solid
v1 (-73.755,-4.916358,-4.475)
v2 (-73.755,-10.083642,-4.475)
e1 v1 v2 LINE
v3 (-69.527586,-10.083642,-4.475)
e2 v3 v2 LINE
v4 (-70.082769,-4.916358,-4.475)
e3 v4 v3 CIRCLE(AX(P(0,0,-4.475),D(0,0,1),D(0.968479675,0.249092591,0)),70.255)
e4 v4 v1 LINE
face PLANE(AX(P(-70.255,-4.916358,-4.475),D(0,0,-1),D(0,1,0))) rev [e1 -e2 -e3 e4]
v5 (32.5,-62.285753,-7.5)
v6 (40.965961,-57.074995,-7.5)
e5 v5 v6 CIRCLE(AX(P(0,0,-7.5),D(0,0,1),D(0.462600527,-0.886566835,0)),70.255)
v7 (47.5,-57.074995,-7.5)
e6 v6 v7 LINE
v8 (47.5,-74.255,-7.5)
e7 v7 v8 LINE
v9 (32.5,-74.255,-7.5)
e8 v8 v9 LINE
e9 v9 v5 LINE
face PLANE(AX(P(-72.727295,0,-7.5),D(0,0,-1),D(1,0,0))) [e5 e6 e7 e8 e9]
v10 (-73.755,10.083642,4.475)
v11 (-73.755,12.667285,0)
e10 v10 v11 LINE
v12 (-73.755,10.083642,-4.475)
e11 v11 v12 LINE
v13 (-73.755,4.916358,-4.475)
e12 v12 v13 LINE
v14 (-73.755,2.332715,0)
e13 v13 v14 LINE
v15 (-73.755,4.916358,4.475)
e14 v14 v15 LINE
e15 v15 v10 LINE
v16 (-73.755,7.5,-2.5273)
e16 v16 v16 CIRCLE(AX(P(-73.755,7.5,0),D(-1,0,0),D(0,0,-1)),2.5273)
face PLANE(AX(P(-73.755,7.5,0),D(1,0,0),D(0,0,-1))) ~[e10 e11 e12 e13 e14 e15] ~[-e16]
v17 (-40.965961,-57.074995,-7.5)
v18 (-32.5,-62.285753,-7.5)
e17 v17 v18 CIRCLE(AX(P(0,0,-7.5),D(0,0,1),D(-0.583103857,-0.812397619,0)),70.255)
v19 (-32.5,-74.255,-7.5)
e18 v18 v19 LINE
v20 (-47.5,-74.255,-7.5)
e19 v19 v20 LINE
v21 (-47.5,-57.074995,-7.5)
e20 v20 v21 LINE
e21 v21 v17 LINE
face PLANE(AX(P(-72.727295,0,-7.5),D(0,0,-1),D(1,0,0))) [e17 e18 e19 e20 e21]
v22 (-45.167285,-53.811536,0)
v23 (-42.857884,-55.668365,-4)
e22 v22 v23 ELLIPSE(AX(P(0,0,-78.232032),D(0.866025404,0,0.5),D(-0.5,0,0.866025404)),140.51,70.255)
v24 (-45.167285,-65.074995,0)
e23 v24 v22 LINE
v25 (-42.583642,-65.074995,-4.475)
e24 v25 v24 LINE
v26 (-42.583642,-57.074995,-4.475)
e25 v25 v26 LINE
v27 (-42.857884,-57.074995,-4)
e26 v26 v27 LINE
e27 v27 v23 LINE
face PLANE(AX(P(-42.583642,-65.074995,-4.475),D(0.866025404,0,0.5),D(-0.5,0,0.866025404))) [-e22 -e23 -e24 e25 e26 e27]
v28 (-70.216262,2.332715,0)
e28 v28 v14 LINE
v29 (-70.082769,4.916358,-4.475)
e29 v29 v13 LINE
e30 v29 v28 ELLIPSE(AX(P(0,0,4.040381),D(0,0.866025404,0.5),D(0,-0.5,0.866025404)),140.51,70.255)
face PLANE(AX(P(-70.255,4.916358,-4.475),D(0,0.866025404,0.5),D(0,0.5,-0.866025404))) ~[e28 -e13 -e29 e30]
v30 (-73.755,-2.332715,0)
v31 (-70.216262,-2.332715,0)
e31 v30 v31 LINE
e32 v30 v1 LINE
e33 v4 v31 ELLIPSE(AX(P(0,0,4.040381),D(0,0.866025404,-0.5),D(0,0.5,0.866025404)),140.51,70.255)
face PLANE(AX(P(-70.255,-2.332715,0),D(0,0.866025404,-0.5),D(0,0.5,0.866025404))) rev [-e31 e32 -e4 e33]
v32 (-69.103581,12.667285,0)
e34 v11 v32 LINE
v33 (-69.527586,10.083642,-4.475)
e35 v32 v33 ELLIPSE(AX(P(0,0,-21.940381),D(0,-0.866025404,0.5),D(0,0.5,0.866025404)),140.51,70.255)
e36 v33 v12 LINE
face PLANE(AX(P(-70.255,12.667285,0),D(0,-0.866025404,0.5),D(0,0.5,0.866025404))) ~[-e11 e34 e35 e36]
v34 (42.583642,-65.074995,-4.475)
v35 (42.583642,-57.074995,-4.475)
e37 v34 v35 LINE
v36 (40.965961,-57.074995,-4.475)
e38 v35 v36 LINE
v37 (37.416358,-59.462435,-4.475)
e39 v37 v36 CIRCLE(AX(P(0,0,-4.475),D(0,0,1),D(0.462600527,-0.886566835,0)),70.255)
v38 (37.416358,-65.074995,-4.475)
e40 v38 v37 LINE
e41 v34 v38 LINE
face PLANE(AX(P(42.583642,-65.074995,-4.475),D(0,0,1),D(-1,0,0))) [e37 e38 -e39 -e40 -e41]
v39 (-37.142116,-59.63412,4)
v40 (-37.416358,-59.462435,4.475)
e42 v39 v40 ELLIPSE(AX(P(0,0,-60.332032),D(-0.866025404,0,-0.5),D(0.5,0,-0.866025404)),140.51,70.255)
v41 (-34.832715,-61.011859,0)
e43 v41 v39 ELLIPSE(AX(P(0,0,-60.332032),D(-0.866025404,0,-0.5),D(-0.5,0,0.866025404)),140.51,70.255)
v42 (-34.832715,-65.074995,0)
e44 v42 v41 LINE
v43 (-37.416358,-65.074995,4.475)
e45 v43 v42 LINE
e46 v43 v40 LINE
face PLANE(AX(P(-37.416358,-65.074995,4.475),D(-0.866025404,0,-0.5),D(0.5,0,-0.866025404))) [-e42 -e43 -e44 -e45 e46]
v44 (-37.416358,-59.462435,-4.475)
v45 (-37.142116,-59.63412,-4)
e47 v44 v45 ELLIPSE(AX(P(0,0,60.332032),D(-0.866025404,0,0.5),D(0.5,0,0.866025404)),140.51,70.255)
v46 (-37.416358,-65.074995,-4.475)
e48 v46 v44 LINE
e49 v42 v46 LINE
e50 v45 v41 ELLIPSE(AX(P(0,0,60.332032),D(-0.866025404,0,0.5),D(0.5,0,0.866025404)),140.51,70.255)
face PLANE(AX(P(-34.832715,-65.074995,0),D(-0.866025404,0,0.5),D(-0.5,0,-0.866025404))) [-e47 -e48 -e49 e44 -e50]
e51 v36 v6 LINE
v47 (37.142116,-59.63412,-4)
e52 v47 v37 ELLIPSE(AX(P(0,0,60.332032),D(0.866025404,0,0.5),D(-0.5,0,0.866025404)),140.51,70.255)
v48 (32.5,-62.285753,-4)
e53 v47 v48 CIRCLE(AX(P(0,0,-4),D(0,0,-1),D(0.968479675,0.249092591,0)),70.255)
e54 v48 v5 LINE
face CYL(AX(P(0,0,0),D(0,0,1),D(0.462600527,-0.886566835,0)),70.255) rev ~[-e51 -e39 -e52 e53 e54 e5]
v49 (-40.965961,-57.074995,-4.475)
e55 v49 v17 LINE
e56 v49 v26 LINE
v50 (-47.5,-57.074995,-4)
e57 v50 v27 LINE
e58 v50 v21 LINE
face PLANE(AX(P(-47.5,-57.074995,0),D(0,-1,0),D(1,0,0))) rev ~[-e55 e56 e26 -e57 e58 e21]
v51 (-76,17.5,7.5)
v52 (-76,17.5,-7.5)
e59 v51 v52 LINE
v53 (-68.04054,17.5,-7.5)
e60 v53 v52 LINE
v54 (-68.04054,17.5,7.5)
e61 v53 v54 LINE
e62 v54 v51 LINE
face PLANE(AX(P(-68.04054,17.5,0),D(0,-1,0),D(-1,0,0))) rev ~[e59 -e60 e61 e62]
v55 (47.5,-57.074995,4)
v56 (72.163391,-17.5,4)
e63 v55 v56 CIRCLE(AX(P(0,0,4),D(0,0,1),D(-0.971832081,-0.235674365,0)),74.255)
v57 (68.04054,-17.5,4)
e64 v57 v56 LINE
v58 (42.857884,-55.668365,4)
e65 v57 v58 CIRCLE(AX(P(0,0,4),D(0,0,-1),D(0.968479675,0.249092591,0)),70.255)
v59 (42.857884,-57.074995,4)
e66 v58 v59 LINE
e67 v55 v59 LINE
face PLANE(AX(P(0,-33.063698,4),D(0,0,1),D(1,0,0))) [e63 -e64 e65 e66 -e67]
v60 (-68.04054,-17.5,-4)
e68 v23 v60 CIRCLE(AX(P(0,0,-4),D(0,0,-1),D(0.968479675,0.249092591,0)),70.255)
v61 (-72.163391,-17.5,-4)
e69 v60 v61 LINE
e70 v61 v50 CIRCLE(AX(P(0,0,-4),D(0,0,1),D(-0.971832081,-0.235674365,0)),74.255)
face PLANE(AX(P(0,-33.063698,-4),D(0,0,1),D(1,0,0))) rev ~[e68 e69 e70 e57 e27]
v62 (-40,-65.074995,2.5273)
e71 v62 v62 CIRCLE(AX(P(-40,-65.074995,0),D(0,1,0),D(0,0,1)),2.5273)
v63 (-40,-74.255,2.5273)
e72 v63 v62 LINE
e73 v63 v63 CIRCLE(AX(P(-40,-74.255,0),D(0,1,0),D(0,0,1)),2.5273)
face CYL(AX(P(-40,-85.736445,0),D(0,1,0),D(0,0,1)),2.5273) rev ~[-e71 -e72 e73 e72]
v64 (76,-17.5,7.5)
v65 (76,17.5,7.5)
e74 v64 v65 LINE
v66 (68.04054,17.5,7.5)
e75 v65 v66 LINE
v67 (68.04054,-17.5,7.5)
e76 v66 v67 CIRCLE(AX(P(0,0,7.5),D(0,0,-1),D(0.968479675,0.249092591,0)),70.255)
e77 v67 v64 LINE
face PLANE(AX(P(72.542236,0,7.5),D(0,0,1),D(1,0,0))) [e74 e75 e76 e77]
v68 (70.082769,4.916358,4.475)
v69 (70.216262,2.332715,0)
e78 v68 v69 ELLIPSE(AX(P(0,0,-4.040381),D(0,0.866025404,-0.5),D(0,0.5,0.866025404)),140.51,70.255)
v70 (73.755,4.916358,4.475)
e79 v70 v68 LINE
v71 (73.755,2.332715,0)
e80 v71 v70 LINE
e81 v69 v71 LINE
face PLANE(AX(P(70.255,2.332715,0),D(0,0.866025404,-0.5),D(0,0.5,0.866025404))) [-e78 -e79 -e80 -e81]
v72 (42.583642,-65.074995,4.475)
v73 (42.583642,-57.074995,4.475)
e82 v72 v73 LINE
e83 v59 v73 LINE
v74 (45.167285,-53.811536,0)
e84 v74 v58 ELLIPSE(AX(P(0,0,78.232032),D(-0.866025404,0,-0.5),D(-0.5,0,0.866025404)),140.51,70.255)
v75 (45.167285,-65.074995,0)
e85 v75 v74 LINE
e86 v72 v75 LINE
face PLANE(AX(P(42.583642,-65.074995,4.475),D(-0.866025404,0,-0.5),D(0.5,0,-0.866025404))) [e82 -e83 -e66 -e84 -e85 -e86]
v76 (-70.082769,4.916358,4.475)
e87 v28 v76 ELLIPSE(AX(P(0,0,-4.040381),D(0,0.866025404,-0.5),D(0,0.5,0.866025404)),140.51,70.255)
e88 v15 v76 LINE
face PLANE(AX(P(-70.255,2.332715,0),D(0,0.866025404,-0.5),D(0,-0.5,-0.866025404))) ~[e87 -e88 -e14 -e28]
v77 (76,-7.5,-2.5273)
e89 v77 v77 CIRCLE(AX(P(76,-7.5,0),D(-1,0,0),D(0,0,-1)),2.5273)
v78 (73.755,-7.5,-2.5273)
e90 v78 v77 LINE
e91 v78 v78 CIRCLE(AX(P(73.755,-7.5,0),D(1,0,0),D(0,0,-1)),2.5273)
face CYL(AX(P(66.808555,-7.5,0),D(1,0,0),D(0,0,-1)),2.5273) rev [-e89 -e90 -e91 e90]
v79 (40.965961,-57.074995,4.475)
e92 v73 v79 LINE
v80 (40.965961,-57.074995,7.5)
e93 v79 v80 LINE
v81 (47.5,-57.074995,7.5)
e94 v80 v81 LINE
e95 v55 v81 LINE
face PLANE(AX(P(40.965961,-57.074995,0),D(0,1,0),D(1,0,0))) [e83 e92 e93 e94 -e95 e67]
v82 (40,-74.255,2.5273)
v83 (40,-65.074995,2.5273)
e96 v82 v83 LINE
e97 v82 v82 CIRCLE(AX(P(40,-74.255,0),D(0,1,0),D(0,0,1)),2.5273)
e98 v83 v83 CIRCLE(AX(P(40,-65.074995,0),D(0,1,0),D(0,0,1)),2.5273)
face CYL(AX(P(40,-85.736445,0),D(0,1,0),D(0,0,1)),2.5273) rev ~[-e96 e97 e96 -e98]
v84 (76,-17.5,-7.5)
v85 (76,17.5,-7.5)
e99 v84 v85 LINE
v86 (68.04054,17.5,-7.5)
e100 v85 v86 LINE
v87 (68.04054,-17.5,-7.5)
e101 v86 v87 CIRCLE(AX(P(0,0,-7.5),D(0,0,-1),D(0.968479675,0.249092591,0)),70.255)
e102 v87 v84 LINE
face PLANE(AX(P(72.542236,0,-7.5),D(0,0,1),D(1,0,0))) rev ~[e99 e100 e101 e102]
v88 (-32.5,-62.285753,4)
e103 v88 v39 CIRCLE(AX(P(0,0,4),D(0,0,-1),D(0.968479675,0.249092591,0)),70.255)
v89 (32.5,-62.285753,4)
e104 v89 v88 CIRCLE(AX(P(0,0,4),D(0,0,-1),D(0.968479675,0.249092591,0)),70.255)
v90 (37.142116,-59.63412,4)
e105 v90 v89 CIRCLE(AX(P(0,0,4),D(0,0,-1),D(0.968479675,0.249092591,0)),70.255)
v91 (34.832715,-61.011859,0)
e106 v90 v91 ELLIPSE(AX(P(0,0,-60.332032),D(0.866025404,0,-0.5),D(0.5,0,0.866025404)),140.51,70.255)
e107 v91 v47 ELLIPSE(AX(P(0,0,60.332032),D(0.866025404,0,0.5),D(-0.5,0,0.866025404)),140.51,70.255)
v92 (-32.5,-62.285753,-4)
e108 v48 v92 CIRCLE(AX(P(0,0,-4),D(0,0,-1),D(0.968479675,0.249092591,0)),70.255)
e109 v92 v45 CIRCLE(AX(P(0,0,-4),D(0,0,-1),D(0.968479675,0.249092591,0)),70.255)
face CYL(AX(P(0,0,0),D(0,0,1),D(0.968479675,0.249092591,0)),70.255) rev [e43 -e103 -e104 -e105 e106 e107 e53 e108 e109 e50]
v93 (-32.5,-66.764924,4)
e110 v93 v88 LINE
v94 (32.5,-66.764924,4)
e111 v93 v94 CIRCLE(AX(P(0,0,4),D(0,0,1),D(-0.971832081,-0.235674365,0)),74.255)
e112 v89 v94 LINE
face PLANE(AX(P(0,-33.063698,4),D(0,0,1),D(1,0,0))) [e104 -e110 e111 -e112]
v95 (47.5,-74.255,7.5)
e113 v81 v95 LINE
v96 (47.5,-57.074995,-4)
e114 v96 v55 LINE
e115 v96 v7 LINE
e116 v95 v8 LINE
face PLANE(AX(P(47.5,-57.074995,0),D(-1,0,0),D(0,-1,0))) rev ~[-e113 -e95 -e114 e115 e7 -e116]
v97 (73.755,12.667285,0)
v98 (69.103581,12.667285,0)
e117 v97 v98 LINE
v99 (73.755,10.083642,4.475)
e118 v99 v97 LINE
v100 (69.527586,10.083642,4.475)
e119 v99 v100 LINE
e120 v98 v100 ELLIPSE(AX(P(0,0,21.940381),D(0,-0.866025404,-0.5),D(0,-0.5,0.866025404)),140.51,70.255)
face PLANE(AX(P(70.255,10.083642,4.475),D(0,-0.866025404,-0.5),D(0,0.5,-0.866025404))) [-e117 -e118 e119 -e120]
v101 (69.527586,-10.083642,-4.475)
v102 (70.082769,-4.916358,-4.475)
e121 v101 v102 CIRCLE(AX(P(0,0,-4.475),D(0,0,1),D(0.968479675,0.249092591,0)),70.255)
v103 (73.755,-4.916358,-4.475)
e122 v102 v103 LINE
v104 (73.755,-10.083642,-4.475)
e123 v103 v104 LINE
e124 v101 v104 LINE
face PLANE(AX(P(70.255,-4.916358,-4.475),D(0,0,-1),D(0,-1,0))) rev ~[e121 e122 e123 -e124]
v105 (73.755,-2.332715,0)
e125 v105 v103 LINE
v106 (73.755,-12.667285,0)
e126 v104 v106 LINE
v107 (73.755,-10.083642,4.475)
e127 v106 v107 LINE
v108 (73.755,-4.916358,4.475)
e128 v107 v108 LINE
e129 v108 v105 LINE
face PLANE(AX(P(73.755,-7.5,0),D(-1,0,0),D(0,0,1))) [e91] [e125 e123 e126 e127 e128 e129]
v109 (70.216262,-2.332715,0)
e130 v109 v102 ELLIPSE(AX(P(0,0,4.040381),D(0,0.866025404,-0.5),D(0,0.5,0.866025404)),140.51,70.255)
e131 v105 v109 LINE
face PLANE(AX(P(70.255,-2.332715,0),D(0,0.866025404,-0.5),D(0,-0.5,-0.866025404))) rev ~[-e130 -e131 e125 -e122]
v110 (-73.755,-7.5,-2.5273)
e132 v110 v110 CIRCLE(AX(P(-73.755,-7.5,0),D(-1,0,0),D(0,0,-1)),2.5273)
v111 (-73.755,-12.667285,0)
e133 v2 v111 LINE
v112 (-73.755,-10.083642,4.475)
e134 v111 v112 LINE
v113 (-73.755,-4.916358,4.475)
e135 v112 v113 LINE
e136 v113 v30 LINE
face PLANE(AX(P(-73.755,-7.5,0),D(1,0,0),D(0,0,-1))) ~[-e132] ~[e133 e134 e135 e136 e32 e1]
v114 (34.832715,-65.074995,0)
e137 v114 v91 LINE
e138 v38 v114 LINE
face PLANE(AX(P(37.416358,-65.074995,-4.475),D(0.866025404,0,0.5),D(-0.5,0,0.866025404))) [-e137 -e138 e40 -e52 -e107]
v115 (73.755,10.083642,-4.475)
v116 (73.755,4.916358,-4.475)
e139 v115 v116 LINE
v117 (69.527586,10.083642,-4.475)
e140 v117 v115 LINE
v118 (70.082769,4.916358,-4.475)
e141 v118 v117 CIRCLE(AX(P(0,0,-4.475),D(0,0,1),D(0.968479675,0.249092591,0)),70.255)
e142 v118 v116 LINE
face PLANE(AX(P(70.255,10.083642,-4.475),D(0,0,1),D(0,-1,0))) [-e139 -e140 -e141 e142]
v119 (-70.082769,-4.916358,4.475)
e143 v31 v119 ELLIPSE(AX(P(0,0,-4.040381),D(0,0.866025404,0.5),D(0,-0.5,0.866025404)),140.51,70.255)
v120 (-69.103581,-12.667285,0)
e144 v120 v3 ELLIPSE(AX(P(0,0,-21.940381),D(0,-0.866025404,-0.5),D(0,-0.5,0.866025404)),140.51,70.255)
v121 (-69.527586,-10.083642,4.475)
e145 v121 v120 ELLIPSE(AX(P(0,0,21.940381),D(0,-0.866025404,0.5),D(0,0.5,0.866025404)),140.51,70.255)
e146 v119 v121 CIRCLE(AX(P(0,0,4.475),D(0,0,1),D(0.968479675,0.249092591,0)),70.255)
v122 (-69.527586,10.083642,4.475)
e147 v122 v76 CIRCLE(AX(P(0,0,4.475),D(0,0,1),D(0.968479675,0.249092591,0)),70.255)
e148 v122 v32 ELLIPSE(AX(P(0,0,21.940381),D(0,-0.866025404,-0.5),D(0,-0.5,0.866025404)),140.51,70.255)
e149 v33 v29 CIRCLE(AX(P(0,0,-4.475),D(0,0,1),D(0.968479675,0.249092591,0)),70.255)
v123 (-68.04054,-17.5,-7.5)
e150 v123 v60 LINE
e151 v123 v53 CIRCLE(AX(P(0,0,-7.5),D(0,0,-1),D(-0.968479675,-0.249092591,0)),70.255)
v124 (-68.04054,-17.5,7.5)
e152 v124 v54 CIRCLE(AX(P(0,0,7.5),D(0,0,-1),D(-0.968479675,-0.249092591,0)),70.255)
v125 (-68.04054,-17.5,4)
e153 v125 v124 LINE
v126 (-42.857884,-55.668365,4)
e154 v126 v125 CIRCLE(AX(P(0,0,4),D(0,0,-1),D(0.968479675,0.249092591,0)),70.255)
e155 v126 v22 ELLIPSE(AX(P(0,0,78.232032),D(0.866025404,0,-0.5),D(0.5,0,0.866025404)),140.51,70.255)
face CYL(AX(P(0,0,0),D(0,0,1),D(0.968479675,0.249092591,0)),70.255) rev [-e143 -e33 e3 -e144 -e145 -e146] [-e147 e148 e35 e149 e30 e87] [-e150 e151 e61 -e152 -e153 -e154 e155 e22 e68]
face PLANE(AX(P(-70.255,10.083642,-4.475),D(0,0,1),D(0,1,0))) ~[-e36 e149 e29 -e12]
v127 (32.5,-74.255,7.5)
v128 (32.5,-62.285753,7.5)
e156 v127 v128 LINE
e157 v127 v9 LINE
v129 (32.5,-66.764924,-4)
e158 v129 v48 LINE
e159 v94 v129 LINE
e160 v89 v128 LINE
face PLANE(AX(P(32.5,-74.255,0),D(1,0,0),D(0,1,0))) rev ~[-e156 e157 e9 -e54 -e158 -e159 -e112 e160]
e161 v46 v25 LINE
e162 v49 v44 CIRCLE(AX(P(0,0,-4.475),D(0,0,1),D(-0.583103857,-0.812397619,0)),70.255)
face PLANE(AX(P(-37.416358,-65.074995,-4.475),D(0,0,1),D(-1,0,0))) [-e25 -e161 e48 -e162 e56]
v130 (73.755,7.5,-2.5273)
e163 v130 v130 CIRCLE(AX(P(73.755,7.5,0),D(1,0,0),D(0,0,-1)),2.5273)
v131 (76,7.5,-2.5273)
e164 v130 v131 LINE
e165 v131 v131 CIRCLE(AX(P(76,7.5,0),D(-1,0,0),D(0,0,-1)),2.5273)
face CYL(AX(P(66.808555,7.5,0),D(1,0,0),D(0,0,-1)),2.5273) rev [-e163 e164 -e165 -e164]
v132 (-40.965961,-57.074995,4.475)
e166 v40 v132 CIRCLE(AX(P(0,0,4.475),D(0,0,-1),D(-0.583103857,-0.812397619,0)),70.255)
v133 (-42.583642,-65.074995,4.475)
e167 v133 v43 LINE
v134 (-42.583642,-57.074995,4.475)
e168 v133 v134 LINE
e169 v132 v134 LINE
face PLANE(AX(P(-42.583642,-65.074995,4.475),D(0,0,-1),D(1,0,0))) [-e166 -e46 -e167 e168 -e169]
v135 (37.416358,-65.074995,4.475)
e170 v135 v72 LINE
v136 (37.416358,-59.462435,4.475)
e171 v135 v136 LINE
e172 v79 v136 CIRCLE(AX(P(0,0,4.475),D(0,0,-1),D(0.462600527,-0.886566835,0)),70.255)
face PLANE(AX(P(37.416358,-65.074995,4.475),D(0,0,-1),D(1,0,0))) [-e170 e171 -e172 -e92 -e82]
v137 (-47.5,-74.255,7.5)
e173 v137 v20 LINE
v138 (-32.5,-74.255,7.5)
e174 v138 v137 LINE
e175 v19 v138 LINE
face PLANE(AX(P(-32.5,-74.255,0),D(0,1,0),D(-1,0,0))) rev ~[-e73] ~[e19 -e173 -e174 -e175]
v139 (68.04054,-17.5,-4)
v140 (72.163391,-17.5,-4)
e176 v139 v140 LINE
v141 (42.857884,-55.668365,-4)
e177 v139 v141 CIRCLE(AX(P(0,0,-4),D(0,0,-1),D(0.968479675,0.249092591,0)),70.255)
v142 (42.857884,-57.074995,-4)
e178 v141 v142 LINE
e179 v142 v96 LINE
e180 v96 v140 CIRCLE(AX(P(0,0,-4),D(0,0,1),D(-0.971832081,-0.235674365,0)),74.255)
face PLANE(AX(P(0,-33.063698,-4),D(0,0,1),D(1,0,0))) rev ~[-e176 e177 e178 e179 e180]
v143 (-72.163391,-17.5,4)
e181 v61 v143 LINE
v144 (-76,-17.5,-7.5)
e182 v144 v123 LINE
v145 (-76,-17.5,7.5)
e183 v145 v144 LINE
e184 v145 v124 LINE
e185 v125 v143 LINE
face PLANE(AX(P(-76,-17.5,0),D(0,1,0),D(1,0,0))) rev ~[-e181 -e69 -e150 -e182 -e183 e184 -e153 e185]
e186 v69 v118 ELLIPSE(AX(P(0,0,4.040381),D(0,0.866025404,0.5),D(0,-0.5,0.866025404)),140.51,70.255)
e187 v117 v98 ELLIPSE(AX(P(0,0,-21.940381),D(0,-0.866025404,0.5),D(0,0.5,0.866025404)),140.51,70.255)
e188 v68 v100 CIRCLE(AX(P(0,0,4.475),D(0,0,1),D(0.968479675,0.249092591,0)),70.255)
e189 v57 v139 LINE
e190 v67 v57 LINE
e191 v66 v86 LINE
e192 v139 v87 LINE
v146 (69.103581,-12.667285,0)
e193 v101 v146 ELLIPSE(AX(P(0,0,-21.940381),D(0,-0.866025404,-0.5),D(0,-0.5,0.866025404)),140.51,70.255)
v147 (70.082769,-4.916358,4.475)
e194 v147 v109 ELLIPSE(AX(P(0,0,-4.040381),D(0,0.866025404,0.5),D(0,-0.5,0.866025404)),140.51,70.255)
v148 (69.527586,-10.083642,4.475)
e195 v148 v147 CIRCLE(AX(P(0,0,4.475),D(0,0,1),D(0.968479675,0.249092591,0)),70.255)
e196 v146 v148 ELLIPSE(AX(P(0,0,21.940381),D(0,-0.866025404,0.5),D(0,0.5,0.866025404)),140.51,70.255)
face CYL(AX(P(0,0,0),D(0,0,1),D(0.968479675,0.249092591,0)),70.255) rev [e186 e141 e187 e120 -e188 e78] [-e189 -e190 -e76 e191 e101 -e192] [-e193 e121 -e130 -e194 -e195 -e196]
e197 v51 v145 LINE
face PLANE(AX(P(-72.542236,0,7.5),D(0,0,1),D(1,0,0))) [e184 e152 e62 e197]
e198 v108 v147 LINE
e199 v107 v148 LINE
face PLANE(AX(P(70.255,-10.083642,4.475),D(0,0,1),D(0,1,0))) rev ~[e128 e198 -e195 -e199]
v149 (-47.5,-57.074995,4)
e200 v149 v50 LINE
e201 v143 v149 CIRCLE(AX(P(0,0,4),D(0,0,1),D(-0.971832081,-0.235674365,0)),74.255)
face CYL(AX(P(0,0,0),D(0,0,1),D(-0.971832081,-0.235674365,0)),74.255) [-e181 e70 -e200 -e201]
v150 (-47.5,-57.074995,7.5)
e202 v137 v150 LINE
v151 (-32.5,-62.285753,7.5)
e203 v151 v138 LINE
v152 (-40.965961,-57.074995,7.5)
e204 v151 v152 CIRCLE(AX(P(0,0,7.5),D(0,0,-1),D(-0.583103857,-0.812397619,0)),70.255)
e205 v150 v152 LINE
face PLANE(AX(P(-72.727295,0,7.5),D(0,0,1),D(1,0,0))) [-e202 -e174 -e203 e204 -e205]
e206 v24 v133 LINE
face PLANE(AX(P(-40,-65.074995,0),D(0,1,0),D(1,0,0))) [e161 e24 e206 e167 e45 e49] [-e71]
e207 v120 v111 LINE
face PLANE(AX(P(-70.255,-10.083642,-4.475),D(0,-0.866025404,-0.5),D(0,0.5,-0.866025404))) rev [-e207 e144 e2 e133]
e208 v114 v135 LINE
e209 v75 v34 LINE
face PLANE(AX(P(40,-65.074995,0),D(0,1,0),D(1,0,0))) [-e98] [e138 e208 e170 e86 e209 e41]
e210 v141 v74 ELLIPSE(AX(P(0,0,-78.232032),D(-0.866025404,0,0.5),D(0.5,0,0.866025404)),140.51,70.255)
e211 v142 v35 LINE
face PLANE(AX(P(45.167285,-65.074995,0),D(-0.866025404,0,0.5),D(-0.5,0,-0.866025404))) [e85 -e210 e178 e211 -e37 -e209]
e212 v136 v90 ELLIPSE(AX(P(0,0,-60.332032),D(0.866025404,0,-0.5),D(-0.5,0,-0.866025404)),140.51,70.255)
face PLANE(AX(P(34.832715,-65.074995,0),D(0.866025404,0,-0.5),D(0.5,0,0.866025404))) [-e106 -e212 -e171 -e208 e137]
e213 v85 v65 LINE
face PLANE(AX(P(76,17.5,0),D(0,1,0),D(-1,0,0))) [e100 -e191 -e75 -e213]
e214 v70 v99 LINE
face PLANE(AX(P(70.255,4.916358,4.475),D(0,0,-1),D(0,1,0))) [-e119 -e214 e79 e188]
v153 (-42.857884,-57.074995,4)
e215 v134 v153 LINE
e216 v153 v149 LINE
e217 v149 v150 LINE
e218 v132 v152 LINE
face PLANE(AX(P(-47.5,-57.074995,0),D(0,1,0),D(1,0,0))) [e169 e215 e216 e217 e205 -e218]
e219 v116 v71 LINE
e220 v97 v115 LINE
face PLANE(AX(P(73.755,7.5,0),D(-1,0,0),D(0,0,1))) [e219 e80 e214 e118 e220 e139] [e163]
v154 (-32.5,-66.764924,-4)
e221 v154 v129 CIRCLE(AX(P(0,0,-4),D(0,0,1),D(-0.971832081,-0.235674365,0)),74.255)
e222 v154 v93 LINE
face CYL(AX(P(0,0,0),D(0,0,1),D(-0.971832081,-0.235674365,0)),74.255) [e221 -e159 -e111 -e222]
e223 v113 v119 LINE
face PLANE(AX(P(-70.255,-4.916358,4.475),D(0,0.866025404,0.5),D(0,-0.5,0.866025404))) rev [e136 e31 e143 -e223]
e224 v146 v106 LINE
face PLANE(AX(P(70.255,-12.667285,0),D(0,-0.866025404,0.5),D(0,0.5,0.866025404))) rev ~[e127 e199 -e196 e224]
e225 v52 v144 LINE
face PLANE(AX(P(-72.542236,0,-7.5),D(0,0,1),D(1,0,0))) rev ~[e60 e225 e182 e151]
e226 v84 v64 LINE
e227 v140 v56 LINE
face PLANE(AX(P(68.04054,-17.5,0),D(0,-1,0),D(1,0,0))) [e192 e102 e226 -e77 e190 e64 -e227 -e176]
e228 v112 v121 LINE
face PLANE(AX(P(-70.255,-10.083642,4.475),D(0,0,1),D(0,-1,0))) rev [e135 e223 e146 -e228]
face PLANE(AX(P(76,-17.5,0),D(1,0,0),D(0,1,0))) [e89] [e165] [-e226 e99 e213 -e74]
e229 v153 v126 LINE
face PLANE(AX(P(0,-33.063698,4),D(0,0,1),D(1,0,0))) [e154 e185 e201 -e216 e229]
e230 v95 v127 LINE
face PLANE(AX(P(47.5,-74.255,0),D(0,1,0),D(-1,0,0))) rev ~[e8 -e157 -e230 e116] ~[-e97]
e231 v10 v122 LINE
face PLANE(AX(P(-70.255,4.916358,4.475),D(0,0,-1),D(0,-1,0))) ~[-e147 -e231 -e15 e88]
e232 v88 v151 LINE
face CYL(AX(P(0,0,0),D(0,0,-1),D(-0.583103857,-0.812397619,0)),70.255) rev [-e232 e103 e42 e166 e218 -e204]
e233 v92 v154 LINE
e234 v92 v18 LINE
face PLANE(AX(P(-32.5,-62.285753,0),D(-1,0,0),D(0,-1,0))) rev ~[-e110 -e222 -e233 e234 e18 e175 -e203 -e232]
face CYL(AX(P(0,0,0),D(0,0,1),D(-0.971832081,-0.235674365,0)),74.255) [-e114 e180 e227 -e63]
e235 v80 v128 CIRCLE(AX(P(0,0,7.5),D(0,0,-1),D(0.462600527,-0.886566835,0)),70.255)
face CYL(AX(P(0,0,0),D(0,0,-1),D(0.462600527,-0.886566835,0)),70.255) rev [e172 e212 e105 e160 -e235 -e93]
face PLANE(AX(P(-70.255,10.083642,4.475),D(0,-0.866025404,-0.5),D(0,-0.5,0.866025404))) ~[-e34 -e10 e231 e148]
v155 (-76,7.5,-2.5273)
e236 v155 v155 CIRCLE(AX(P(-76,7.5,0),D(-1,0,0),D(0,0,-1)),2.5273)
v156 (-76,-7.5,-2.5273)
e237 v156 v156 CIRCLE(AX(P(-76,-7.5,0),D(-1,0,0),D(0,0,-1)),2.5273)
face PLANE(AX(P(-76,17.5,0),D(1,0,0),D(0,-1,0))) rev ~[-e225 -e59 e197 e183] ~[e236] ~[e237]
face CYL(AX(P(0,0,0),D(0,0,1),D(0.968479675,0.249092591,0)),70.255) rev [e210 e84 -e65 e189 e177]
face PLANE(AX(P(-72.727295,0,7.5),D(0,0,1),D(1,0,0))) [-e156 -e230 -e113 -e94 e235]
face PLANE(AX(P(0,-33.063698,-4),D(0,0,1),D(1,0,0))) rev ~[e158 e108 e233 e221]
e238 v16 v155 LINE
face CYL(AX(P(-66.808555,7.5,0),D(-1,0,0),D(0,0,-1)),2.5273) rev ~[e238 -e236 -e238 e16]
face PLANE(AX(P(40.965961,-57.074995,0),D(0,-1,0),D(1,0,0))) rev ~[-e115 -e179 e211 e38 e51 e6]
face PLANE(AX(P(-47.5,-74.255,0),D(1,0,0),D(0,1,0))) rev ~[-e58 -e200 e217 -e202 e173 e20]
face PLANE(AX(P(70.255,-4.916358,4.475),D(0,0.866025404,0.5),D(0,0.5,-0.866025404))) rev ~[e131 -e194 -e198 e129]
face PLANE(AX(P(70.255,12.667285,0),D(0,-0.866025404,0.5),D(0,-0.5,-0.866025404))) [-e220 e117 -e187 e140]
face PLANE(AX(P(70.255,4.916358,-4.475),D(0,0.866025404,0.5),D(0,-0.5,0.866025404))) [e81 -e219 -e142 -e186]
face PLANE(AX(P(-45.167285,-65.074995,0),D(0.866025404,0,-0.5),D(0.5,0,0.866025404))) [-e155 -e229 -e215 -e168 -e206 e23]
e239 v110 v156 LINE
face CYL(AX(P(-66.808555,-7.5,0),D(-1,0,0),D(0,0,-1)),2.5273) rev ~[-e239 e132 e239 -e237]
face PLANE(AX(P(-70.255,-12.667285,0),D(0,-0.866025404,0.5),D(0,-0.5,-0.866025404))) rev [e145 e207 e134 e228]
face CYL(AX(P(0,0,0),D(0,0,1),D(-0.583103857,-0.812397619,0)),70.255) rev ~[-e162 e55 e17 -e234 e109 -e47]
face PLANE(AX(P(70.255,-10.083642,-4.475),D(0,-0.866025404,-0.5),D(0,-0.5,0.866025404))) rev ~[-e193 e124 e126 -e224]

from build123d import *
from build123d.topology import SkipClean

# Parameters (mm, degrees)
BOSS_EXTRUDE1_DEPTH                 = 4
BOSS_EXTRUDE2_DEPTH                 = 7.5
CUT_EXTRUDE1_DEPTH                  = 3.5
F_8_0_199_DIAMETER_HOLE1_AT_2_COUNT = 2
F_8_0_199_DIAMETER_HOLE1_AT_2_PITCH = 15
BOSS_EXTRUDE3_REACH                 = 108.518
BOSS_EXTRUDE3_DIRECTION_2_REACH     = 108.518
CUT_EXTRUDE2_DEPTH                  = 3.5
CUT_EXTRUDE2_DEPTH_BACK             = 8
F_8_0_199_DIAMETER_HOLE2_D          = 5.0546
F_8_0_199_DIAMETER_HOLE2_DEPTH      = 11.481444958
F_8_0_199_DIAMETER_HOLE2_TIP        = 1.518555042


with BuildPart() as part:
    # Sketch1 → Boss-Extrude1 (new, symmetric)
    with BuildSketch(Plane.XY):
        with BuildLine():
            Line((-76, 17.5), (-76, -17.5))
            Line((-76, -17.5), (-72.163391169, -17.5))
            ThreePointArc((-72.163391169, -17.5), (0, -74.255), (72.163391169, -17.5))
            Line((72.163391169, -17.5), (76, -17.5))
            Line((76, -17.5), (76, 17.5))
            Line((76, 17.5), (68.04053957, 17.5))
            ThreePointArc((68.04053957, 17.5), (0, -70.255), (-68.04053957, 17.5))
            Line((-68.04053957, 17.5), (-76, 17.5))
        make_face()
    extrude(amount=BOSS_EXTRUDE1_DEPTH, both=True)

    # Sketch1<5> → Boss-Extrude2 (add, symmetric)
    with BuildSketch(Plane.XY):
        with BuildLine():
            Line((-76, 17.5), (-76, -17.5))
            Line((-76, -17.5), (-68.04053957, -17.5))
            ThreePointArc((-68.04053957, -17.5), (-70.255, 0), (-68.04053957, 17.5))
            Line((-68.04053957, 17.5), (-76, 17.5))
        make_face()
        with BuildLine():
            Line((68.04053957, -17.5), (76, -17.5))
            Line((76, -17.5), (76, 17.5))
            Line((76, 17.5), (68.04053957, 17.5))
            ThreePointArc((68.04053957, 17.5), (70.255, 0), (68.04053957, -17.5))
        make_face()
    extrude(amount=BOSS_EXTRUDE2_DEPTH, both=True)

    # Sketch2 → Cut-Extrude1 (cut, symmetric)
    with BuildSketch(Plane.ZY.offset(-70.255)):
        Polygon((0, 2.332715091), (4.475, 4.916357545), (4.475, 10.083642455), (0, 12.667284909), (-4.475, 10.083642455), (-4.475, 4.916357545), align=None)
        Polygon((0, -12.667284909), (4.475, -10.083642455), (4.475, -4.916357545), (0, -2.332715091), (-4.475, -4.916357545), (-4.475, -10.083642455), align=None)
    cut_extrude1 = extrude(amount=CUT_EXTRUDE1_DEPTH, both=True, mode=Mode.SUBTRACT)

    # Sketch4 → #8 (0.199) Diameter Hole1 (revolve, cut)
    with BuildSketch(Plane(origin=(76, 7.5, 0), x_dir=(0, 0, -1), z_dir=(0, 1, 0))):
        Polygon((0, 0), (0, 10.71), (2.5273, 9.191444958), (2.5273, 0), align=None)
    f_8_0_199_diameter_hole1 = revolve(axis=Axis((82.35, 7.5, 0), (-1, 0, 0)), mode=Mode.SUBTRACT)

    # #8 (0.199) Diameter Hole1 at 2: #8 (0.199) Diameter Hole1 ×2
    with Locations(*[(0, -i * F_8_0_199_DIAMETER_HOLE1_AT_2_PITCH, 0) for i in range(1, F_8_0_199_DIAMETER_HOLE1_AT_2_COUNT)]):
        add(f_8_0_199_diameter_hole1, mode=Mode.SUBTRACT)

    # Mirror1: Cut-Extrude1, #8 (0.199) Diameter Hole1 across plane
    add(cut_extrude1.mirror(Plane(origin=(0, 0, 0), x_dir=(0, 0, 1), z_dir=(1, 0, 0))), mode=Mode.SUBTRACT)
    add(f_8_0_199_diameter_hole1.mirror(Plane(origin=(0, 0, 0), x_dir=(0, 0, 1), z_dir=(1, 0, 0))), mode=Mode.SUBTRACT)

    # Mirror1 copy 1 sketch → Mirror1 copy 1 (revolve, cut)
    with BuildSketch(Plane(origin=(-76, -7.5, 0), x_dir=(0, 0, -1), z_dir=(0, 1, 0))):
        Polygon((0, 0), (0, -10.71), (2.5273, -9.191444958), (2.5273, 0), align=None)
    revolve(axis=Axis((-82.35, -7.5, 0), (-1, 0, 0)), mode=Mode.SUBTRACT)

    # Boss-Extrude3: up to this face of the body (flat: up to its plane)
    boss_extrude3_end = Plane(part.part.faces().sort_by_distance((-72.727295349, 0, 7.5))[0])
    # Sketch5 → Boss-Extrude3 (add, up to the picked face)
    with BuildSketch(Plane.XY, mode=Mode.PRIVATE) as boss_extrude3_sk1:
        with BuildLine():
            Line((47.5, -57.074994744), (47.5, -74.255))
            Line((47.5, -74.255), (32.5, -74.255))
            Line((32.5, -74.255), (32.5, -62.285752986))
            ThreePointArc((32.5, -62.285752986), (36.825261363, -59.830302946), (40.96596148, -57.074994744))
            Line((40.96596148, -57.074994744), (47.5, -57.074994744))
        make_face()
    boss_extrude3_tool1 = split(extrude(boss_extrude3_sk1.sketch, amount=BOSS_EXTRUDE3_REACH, mode=Mode.PRIVATE), bisect_by=boss_extrude3_end, keep=Keep.BOTH, mode=Mode.PRIVATE)
    # Sketch5 → Boss-Extrude3 (add, up to the picked face)
    with BuildSketch(Plane.XY, mode=Mode.PRIVATE) as boss_extrude3_sk2:
        with BuildLine():
            Line((-32.5, -74.255), (-47.5, -74.255))
            Line((-47.5, -74.255), (-47.5, -57.074994744))
            Line((-47.5, -57.074994744), (-40.96596148, -57.074994744))
            ThreePointArc((-40.96596148, -57.074994744), (-36.825261363, -59.830302946), (-32.5, -62.285752986))
            Line((-32.5, -62.285752986), (-32.5, -74.255))
        make_face()
    boss_extrude3_tool2 = split(extrude(boss_extrude3_sk2.sketch, amount=BOSS_EXTRUDE3_REACH, mode=Mode.PRIVATE), bisect_by=boss_extrude3_end, keep=Keep.BOTH, mode=Mode.PRIVATE)
    add(boss_extrude3_tool1.solids().sort_by(Axis((40.456136, -66.339152, 0), (0, 0, 1)))[0])
    add(boss_extrude3_tool2.solids().sort_by(Axis((-40.456136, -66.339152, 0), (0, 0, 1)))[0])

    # Boss-Extrude3 direction 2: up to this face of the body (flat: up to its plane)
    boss_extrude3_direction_2_end = Plane(part.part.faces().sort_by_distance((-72.727295349, 0, -7.5))[0])
    # Sketch5 → Boss-Extrude3 direction 2 (add, up to the picked face)
    with BuildSketch(Plane.XY, mode=Mode.PRIVATE) as boss_extrude3_direction_2_sk1:
        with BuildLine():
            Line((47.5, -57.074994744), (47.5, -74.255))
            Line((47.5, -74.255), (32.5, -74.255))
            Line((32.5, -74.255), (32.5, -62.285752986))
            ThreePointArc((32.5, -62.285752986), (36.825261363, -59.830302946), (40.96596148, -57.074994744))
            Line((40.96596148, -57.074994744), (47.5, -57.074994744))
        make_face()
    boss_extrude3_direction_2_tool1 = split(extrude(boss_extrude3_direction_2_sk1.sketch, amount=-BOSS_EXTRUDE3_DIRECTION_2_REACH, mode=Mode.PRIVATE), bisect_by=boss_extrude3_direction_2_end, keep=Keep.BOTH, mode=Mode.PRIVATE)
    # Sketch5 → Boss-Extrude3 direction 2 (add, up to the picked face)
    with BuildSketch(Plane.XY, mode=Mode.PRIVATE) as boss_extrude3_direction_2_sk2:
        with BuildLine():
            Line((-32.5, -74.255), (-47.5, -74.255))
            Line((-47.5, -74.255), (-47.5, -57.074994744))
            Line((-47.5, -57.074994744), (-40.96596148, -57.074994744))
            ThreePointArc((-40.96596148, -57.074994744), (-36.825261363, -59.830302946), (-32.5, -62.285752986))
            Line((-32.5, -62.285752986), (-32.5, -74.255))
        make_face()
    boss_extrude3_direction_2_tool2 = split(extrude(boss_extrude3_direction_2_sk2.sketch, amount=-BOSS_EXTRUDE3_DIRECTION_2_REACH, mode=Mode.PRIVATE), bisect_by=boss_extrude3_direction_2_end, keep=Keep.BOTH, mode=Mode.PRIVATE)
    add(boss_extrude3_direction_2_tool1.solids().sort_by(Axis((40.456136, -66.339152, 0), (0, 0, -1)))[0])
    add(boss_extrude3_direction_2_tool2.solids().sort_by(Axis((-40.456136, -66.339152, 0), (0, 0, -1)))[0])

    # Sketch6 → Cut-Extrude2 (cut, two sides: drawn at the far end of the back side and taken through both)
    with SkipClean():  # the faces are left unmerged after this step: merging them gives an invalid solid
        with BuildSketch(Plane(origin=(0, -57.074994744, 0), x_dir=(1, 0, 0), z_dir=(0, 1, 0)).offset(-CUT_EXTRUDE2_DEPTH_BACK)):
            Polygon((-37.416357545, -4.475), (-34.832715091, 0), (-37.416357545, 4.475), (-42.583642455, 4.475), (-45.167284909, 0), (-42.583642455, -4.475), align=None)
            Polygon((42.583642455, -4.475), (45.167284909, 0), (42.583642455, 4.475), (37.416357545, 4.475), (34.832715091, 0), (37.416357545, -4.475), align=None)
        extrude(amount=CUT_EXTRUDE2_DEPTH + CUT_EXTRUDE2_DEPTH_BACK, mode=Mode.SUBTRACT)

    # #8 (0.199) Diameter Hole2
    with Locations(Plane(origin=(-40, -74.255, 0), x_dir=(0, 0, -1), z_dir=(0, -1, 0))):
        with Locations((0, 0), (0, 80)):
            Hole(F_8_0_199_DIAMETER_HOLE2_D / 2, depth=F_8_0_199_DIAMETER_HOLE2_DEPTH)
            with Locations((0, 0, -(F_8_0_199_DIAMETER_HOLE2_DEPTH + F_8_0_199_DIAMETER_HOLE2_TIP / 2))):  # 118° drill point
                Cone(0, F_8_0_199_DIAMETER_HOLE2_D / 2, F_8_0_199_DIAMETER_HOLE2_TIP, mode=Mode.SUBTRACT)


solid = part.part
